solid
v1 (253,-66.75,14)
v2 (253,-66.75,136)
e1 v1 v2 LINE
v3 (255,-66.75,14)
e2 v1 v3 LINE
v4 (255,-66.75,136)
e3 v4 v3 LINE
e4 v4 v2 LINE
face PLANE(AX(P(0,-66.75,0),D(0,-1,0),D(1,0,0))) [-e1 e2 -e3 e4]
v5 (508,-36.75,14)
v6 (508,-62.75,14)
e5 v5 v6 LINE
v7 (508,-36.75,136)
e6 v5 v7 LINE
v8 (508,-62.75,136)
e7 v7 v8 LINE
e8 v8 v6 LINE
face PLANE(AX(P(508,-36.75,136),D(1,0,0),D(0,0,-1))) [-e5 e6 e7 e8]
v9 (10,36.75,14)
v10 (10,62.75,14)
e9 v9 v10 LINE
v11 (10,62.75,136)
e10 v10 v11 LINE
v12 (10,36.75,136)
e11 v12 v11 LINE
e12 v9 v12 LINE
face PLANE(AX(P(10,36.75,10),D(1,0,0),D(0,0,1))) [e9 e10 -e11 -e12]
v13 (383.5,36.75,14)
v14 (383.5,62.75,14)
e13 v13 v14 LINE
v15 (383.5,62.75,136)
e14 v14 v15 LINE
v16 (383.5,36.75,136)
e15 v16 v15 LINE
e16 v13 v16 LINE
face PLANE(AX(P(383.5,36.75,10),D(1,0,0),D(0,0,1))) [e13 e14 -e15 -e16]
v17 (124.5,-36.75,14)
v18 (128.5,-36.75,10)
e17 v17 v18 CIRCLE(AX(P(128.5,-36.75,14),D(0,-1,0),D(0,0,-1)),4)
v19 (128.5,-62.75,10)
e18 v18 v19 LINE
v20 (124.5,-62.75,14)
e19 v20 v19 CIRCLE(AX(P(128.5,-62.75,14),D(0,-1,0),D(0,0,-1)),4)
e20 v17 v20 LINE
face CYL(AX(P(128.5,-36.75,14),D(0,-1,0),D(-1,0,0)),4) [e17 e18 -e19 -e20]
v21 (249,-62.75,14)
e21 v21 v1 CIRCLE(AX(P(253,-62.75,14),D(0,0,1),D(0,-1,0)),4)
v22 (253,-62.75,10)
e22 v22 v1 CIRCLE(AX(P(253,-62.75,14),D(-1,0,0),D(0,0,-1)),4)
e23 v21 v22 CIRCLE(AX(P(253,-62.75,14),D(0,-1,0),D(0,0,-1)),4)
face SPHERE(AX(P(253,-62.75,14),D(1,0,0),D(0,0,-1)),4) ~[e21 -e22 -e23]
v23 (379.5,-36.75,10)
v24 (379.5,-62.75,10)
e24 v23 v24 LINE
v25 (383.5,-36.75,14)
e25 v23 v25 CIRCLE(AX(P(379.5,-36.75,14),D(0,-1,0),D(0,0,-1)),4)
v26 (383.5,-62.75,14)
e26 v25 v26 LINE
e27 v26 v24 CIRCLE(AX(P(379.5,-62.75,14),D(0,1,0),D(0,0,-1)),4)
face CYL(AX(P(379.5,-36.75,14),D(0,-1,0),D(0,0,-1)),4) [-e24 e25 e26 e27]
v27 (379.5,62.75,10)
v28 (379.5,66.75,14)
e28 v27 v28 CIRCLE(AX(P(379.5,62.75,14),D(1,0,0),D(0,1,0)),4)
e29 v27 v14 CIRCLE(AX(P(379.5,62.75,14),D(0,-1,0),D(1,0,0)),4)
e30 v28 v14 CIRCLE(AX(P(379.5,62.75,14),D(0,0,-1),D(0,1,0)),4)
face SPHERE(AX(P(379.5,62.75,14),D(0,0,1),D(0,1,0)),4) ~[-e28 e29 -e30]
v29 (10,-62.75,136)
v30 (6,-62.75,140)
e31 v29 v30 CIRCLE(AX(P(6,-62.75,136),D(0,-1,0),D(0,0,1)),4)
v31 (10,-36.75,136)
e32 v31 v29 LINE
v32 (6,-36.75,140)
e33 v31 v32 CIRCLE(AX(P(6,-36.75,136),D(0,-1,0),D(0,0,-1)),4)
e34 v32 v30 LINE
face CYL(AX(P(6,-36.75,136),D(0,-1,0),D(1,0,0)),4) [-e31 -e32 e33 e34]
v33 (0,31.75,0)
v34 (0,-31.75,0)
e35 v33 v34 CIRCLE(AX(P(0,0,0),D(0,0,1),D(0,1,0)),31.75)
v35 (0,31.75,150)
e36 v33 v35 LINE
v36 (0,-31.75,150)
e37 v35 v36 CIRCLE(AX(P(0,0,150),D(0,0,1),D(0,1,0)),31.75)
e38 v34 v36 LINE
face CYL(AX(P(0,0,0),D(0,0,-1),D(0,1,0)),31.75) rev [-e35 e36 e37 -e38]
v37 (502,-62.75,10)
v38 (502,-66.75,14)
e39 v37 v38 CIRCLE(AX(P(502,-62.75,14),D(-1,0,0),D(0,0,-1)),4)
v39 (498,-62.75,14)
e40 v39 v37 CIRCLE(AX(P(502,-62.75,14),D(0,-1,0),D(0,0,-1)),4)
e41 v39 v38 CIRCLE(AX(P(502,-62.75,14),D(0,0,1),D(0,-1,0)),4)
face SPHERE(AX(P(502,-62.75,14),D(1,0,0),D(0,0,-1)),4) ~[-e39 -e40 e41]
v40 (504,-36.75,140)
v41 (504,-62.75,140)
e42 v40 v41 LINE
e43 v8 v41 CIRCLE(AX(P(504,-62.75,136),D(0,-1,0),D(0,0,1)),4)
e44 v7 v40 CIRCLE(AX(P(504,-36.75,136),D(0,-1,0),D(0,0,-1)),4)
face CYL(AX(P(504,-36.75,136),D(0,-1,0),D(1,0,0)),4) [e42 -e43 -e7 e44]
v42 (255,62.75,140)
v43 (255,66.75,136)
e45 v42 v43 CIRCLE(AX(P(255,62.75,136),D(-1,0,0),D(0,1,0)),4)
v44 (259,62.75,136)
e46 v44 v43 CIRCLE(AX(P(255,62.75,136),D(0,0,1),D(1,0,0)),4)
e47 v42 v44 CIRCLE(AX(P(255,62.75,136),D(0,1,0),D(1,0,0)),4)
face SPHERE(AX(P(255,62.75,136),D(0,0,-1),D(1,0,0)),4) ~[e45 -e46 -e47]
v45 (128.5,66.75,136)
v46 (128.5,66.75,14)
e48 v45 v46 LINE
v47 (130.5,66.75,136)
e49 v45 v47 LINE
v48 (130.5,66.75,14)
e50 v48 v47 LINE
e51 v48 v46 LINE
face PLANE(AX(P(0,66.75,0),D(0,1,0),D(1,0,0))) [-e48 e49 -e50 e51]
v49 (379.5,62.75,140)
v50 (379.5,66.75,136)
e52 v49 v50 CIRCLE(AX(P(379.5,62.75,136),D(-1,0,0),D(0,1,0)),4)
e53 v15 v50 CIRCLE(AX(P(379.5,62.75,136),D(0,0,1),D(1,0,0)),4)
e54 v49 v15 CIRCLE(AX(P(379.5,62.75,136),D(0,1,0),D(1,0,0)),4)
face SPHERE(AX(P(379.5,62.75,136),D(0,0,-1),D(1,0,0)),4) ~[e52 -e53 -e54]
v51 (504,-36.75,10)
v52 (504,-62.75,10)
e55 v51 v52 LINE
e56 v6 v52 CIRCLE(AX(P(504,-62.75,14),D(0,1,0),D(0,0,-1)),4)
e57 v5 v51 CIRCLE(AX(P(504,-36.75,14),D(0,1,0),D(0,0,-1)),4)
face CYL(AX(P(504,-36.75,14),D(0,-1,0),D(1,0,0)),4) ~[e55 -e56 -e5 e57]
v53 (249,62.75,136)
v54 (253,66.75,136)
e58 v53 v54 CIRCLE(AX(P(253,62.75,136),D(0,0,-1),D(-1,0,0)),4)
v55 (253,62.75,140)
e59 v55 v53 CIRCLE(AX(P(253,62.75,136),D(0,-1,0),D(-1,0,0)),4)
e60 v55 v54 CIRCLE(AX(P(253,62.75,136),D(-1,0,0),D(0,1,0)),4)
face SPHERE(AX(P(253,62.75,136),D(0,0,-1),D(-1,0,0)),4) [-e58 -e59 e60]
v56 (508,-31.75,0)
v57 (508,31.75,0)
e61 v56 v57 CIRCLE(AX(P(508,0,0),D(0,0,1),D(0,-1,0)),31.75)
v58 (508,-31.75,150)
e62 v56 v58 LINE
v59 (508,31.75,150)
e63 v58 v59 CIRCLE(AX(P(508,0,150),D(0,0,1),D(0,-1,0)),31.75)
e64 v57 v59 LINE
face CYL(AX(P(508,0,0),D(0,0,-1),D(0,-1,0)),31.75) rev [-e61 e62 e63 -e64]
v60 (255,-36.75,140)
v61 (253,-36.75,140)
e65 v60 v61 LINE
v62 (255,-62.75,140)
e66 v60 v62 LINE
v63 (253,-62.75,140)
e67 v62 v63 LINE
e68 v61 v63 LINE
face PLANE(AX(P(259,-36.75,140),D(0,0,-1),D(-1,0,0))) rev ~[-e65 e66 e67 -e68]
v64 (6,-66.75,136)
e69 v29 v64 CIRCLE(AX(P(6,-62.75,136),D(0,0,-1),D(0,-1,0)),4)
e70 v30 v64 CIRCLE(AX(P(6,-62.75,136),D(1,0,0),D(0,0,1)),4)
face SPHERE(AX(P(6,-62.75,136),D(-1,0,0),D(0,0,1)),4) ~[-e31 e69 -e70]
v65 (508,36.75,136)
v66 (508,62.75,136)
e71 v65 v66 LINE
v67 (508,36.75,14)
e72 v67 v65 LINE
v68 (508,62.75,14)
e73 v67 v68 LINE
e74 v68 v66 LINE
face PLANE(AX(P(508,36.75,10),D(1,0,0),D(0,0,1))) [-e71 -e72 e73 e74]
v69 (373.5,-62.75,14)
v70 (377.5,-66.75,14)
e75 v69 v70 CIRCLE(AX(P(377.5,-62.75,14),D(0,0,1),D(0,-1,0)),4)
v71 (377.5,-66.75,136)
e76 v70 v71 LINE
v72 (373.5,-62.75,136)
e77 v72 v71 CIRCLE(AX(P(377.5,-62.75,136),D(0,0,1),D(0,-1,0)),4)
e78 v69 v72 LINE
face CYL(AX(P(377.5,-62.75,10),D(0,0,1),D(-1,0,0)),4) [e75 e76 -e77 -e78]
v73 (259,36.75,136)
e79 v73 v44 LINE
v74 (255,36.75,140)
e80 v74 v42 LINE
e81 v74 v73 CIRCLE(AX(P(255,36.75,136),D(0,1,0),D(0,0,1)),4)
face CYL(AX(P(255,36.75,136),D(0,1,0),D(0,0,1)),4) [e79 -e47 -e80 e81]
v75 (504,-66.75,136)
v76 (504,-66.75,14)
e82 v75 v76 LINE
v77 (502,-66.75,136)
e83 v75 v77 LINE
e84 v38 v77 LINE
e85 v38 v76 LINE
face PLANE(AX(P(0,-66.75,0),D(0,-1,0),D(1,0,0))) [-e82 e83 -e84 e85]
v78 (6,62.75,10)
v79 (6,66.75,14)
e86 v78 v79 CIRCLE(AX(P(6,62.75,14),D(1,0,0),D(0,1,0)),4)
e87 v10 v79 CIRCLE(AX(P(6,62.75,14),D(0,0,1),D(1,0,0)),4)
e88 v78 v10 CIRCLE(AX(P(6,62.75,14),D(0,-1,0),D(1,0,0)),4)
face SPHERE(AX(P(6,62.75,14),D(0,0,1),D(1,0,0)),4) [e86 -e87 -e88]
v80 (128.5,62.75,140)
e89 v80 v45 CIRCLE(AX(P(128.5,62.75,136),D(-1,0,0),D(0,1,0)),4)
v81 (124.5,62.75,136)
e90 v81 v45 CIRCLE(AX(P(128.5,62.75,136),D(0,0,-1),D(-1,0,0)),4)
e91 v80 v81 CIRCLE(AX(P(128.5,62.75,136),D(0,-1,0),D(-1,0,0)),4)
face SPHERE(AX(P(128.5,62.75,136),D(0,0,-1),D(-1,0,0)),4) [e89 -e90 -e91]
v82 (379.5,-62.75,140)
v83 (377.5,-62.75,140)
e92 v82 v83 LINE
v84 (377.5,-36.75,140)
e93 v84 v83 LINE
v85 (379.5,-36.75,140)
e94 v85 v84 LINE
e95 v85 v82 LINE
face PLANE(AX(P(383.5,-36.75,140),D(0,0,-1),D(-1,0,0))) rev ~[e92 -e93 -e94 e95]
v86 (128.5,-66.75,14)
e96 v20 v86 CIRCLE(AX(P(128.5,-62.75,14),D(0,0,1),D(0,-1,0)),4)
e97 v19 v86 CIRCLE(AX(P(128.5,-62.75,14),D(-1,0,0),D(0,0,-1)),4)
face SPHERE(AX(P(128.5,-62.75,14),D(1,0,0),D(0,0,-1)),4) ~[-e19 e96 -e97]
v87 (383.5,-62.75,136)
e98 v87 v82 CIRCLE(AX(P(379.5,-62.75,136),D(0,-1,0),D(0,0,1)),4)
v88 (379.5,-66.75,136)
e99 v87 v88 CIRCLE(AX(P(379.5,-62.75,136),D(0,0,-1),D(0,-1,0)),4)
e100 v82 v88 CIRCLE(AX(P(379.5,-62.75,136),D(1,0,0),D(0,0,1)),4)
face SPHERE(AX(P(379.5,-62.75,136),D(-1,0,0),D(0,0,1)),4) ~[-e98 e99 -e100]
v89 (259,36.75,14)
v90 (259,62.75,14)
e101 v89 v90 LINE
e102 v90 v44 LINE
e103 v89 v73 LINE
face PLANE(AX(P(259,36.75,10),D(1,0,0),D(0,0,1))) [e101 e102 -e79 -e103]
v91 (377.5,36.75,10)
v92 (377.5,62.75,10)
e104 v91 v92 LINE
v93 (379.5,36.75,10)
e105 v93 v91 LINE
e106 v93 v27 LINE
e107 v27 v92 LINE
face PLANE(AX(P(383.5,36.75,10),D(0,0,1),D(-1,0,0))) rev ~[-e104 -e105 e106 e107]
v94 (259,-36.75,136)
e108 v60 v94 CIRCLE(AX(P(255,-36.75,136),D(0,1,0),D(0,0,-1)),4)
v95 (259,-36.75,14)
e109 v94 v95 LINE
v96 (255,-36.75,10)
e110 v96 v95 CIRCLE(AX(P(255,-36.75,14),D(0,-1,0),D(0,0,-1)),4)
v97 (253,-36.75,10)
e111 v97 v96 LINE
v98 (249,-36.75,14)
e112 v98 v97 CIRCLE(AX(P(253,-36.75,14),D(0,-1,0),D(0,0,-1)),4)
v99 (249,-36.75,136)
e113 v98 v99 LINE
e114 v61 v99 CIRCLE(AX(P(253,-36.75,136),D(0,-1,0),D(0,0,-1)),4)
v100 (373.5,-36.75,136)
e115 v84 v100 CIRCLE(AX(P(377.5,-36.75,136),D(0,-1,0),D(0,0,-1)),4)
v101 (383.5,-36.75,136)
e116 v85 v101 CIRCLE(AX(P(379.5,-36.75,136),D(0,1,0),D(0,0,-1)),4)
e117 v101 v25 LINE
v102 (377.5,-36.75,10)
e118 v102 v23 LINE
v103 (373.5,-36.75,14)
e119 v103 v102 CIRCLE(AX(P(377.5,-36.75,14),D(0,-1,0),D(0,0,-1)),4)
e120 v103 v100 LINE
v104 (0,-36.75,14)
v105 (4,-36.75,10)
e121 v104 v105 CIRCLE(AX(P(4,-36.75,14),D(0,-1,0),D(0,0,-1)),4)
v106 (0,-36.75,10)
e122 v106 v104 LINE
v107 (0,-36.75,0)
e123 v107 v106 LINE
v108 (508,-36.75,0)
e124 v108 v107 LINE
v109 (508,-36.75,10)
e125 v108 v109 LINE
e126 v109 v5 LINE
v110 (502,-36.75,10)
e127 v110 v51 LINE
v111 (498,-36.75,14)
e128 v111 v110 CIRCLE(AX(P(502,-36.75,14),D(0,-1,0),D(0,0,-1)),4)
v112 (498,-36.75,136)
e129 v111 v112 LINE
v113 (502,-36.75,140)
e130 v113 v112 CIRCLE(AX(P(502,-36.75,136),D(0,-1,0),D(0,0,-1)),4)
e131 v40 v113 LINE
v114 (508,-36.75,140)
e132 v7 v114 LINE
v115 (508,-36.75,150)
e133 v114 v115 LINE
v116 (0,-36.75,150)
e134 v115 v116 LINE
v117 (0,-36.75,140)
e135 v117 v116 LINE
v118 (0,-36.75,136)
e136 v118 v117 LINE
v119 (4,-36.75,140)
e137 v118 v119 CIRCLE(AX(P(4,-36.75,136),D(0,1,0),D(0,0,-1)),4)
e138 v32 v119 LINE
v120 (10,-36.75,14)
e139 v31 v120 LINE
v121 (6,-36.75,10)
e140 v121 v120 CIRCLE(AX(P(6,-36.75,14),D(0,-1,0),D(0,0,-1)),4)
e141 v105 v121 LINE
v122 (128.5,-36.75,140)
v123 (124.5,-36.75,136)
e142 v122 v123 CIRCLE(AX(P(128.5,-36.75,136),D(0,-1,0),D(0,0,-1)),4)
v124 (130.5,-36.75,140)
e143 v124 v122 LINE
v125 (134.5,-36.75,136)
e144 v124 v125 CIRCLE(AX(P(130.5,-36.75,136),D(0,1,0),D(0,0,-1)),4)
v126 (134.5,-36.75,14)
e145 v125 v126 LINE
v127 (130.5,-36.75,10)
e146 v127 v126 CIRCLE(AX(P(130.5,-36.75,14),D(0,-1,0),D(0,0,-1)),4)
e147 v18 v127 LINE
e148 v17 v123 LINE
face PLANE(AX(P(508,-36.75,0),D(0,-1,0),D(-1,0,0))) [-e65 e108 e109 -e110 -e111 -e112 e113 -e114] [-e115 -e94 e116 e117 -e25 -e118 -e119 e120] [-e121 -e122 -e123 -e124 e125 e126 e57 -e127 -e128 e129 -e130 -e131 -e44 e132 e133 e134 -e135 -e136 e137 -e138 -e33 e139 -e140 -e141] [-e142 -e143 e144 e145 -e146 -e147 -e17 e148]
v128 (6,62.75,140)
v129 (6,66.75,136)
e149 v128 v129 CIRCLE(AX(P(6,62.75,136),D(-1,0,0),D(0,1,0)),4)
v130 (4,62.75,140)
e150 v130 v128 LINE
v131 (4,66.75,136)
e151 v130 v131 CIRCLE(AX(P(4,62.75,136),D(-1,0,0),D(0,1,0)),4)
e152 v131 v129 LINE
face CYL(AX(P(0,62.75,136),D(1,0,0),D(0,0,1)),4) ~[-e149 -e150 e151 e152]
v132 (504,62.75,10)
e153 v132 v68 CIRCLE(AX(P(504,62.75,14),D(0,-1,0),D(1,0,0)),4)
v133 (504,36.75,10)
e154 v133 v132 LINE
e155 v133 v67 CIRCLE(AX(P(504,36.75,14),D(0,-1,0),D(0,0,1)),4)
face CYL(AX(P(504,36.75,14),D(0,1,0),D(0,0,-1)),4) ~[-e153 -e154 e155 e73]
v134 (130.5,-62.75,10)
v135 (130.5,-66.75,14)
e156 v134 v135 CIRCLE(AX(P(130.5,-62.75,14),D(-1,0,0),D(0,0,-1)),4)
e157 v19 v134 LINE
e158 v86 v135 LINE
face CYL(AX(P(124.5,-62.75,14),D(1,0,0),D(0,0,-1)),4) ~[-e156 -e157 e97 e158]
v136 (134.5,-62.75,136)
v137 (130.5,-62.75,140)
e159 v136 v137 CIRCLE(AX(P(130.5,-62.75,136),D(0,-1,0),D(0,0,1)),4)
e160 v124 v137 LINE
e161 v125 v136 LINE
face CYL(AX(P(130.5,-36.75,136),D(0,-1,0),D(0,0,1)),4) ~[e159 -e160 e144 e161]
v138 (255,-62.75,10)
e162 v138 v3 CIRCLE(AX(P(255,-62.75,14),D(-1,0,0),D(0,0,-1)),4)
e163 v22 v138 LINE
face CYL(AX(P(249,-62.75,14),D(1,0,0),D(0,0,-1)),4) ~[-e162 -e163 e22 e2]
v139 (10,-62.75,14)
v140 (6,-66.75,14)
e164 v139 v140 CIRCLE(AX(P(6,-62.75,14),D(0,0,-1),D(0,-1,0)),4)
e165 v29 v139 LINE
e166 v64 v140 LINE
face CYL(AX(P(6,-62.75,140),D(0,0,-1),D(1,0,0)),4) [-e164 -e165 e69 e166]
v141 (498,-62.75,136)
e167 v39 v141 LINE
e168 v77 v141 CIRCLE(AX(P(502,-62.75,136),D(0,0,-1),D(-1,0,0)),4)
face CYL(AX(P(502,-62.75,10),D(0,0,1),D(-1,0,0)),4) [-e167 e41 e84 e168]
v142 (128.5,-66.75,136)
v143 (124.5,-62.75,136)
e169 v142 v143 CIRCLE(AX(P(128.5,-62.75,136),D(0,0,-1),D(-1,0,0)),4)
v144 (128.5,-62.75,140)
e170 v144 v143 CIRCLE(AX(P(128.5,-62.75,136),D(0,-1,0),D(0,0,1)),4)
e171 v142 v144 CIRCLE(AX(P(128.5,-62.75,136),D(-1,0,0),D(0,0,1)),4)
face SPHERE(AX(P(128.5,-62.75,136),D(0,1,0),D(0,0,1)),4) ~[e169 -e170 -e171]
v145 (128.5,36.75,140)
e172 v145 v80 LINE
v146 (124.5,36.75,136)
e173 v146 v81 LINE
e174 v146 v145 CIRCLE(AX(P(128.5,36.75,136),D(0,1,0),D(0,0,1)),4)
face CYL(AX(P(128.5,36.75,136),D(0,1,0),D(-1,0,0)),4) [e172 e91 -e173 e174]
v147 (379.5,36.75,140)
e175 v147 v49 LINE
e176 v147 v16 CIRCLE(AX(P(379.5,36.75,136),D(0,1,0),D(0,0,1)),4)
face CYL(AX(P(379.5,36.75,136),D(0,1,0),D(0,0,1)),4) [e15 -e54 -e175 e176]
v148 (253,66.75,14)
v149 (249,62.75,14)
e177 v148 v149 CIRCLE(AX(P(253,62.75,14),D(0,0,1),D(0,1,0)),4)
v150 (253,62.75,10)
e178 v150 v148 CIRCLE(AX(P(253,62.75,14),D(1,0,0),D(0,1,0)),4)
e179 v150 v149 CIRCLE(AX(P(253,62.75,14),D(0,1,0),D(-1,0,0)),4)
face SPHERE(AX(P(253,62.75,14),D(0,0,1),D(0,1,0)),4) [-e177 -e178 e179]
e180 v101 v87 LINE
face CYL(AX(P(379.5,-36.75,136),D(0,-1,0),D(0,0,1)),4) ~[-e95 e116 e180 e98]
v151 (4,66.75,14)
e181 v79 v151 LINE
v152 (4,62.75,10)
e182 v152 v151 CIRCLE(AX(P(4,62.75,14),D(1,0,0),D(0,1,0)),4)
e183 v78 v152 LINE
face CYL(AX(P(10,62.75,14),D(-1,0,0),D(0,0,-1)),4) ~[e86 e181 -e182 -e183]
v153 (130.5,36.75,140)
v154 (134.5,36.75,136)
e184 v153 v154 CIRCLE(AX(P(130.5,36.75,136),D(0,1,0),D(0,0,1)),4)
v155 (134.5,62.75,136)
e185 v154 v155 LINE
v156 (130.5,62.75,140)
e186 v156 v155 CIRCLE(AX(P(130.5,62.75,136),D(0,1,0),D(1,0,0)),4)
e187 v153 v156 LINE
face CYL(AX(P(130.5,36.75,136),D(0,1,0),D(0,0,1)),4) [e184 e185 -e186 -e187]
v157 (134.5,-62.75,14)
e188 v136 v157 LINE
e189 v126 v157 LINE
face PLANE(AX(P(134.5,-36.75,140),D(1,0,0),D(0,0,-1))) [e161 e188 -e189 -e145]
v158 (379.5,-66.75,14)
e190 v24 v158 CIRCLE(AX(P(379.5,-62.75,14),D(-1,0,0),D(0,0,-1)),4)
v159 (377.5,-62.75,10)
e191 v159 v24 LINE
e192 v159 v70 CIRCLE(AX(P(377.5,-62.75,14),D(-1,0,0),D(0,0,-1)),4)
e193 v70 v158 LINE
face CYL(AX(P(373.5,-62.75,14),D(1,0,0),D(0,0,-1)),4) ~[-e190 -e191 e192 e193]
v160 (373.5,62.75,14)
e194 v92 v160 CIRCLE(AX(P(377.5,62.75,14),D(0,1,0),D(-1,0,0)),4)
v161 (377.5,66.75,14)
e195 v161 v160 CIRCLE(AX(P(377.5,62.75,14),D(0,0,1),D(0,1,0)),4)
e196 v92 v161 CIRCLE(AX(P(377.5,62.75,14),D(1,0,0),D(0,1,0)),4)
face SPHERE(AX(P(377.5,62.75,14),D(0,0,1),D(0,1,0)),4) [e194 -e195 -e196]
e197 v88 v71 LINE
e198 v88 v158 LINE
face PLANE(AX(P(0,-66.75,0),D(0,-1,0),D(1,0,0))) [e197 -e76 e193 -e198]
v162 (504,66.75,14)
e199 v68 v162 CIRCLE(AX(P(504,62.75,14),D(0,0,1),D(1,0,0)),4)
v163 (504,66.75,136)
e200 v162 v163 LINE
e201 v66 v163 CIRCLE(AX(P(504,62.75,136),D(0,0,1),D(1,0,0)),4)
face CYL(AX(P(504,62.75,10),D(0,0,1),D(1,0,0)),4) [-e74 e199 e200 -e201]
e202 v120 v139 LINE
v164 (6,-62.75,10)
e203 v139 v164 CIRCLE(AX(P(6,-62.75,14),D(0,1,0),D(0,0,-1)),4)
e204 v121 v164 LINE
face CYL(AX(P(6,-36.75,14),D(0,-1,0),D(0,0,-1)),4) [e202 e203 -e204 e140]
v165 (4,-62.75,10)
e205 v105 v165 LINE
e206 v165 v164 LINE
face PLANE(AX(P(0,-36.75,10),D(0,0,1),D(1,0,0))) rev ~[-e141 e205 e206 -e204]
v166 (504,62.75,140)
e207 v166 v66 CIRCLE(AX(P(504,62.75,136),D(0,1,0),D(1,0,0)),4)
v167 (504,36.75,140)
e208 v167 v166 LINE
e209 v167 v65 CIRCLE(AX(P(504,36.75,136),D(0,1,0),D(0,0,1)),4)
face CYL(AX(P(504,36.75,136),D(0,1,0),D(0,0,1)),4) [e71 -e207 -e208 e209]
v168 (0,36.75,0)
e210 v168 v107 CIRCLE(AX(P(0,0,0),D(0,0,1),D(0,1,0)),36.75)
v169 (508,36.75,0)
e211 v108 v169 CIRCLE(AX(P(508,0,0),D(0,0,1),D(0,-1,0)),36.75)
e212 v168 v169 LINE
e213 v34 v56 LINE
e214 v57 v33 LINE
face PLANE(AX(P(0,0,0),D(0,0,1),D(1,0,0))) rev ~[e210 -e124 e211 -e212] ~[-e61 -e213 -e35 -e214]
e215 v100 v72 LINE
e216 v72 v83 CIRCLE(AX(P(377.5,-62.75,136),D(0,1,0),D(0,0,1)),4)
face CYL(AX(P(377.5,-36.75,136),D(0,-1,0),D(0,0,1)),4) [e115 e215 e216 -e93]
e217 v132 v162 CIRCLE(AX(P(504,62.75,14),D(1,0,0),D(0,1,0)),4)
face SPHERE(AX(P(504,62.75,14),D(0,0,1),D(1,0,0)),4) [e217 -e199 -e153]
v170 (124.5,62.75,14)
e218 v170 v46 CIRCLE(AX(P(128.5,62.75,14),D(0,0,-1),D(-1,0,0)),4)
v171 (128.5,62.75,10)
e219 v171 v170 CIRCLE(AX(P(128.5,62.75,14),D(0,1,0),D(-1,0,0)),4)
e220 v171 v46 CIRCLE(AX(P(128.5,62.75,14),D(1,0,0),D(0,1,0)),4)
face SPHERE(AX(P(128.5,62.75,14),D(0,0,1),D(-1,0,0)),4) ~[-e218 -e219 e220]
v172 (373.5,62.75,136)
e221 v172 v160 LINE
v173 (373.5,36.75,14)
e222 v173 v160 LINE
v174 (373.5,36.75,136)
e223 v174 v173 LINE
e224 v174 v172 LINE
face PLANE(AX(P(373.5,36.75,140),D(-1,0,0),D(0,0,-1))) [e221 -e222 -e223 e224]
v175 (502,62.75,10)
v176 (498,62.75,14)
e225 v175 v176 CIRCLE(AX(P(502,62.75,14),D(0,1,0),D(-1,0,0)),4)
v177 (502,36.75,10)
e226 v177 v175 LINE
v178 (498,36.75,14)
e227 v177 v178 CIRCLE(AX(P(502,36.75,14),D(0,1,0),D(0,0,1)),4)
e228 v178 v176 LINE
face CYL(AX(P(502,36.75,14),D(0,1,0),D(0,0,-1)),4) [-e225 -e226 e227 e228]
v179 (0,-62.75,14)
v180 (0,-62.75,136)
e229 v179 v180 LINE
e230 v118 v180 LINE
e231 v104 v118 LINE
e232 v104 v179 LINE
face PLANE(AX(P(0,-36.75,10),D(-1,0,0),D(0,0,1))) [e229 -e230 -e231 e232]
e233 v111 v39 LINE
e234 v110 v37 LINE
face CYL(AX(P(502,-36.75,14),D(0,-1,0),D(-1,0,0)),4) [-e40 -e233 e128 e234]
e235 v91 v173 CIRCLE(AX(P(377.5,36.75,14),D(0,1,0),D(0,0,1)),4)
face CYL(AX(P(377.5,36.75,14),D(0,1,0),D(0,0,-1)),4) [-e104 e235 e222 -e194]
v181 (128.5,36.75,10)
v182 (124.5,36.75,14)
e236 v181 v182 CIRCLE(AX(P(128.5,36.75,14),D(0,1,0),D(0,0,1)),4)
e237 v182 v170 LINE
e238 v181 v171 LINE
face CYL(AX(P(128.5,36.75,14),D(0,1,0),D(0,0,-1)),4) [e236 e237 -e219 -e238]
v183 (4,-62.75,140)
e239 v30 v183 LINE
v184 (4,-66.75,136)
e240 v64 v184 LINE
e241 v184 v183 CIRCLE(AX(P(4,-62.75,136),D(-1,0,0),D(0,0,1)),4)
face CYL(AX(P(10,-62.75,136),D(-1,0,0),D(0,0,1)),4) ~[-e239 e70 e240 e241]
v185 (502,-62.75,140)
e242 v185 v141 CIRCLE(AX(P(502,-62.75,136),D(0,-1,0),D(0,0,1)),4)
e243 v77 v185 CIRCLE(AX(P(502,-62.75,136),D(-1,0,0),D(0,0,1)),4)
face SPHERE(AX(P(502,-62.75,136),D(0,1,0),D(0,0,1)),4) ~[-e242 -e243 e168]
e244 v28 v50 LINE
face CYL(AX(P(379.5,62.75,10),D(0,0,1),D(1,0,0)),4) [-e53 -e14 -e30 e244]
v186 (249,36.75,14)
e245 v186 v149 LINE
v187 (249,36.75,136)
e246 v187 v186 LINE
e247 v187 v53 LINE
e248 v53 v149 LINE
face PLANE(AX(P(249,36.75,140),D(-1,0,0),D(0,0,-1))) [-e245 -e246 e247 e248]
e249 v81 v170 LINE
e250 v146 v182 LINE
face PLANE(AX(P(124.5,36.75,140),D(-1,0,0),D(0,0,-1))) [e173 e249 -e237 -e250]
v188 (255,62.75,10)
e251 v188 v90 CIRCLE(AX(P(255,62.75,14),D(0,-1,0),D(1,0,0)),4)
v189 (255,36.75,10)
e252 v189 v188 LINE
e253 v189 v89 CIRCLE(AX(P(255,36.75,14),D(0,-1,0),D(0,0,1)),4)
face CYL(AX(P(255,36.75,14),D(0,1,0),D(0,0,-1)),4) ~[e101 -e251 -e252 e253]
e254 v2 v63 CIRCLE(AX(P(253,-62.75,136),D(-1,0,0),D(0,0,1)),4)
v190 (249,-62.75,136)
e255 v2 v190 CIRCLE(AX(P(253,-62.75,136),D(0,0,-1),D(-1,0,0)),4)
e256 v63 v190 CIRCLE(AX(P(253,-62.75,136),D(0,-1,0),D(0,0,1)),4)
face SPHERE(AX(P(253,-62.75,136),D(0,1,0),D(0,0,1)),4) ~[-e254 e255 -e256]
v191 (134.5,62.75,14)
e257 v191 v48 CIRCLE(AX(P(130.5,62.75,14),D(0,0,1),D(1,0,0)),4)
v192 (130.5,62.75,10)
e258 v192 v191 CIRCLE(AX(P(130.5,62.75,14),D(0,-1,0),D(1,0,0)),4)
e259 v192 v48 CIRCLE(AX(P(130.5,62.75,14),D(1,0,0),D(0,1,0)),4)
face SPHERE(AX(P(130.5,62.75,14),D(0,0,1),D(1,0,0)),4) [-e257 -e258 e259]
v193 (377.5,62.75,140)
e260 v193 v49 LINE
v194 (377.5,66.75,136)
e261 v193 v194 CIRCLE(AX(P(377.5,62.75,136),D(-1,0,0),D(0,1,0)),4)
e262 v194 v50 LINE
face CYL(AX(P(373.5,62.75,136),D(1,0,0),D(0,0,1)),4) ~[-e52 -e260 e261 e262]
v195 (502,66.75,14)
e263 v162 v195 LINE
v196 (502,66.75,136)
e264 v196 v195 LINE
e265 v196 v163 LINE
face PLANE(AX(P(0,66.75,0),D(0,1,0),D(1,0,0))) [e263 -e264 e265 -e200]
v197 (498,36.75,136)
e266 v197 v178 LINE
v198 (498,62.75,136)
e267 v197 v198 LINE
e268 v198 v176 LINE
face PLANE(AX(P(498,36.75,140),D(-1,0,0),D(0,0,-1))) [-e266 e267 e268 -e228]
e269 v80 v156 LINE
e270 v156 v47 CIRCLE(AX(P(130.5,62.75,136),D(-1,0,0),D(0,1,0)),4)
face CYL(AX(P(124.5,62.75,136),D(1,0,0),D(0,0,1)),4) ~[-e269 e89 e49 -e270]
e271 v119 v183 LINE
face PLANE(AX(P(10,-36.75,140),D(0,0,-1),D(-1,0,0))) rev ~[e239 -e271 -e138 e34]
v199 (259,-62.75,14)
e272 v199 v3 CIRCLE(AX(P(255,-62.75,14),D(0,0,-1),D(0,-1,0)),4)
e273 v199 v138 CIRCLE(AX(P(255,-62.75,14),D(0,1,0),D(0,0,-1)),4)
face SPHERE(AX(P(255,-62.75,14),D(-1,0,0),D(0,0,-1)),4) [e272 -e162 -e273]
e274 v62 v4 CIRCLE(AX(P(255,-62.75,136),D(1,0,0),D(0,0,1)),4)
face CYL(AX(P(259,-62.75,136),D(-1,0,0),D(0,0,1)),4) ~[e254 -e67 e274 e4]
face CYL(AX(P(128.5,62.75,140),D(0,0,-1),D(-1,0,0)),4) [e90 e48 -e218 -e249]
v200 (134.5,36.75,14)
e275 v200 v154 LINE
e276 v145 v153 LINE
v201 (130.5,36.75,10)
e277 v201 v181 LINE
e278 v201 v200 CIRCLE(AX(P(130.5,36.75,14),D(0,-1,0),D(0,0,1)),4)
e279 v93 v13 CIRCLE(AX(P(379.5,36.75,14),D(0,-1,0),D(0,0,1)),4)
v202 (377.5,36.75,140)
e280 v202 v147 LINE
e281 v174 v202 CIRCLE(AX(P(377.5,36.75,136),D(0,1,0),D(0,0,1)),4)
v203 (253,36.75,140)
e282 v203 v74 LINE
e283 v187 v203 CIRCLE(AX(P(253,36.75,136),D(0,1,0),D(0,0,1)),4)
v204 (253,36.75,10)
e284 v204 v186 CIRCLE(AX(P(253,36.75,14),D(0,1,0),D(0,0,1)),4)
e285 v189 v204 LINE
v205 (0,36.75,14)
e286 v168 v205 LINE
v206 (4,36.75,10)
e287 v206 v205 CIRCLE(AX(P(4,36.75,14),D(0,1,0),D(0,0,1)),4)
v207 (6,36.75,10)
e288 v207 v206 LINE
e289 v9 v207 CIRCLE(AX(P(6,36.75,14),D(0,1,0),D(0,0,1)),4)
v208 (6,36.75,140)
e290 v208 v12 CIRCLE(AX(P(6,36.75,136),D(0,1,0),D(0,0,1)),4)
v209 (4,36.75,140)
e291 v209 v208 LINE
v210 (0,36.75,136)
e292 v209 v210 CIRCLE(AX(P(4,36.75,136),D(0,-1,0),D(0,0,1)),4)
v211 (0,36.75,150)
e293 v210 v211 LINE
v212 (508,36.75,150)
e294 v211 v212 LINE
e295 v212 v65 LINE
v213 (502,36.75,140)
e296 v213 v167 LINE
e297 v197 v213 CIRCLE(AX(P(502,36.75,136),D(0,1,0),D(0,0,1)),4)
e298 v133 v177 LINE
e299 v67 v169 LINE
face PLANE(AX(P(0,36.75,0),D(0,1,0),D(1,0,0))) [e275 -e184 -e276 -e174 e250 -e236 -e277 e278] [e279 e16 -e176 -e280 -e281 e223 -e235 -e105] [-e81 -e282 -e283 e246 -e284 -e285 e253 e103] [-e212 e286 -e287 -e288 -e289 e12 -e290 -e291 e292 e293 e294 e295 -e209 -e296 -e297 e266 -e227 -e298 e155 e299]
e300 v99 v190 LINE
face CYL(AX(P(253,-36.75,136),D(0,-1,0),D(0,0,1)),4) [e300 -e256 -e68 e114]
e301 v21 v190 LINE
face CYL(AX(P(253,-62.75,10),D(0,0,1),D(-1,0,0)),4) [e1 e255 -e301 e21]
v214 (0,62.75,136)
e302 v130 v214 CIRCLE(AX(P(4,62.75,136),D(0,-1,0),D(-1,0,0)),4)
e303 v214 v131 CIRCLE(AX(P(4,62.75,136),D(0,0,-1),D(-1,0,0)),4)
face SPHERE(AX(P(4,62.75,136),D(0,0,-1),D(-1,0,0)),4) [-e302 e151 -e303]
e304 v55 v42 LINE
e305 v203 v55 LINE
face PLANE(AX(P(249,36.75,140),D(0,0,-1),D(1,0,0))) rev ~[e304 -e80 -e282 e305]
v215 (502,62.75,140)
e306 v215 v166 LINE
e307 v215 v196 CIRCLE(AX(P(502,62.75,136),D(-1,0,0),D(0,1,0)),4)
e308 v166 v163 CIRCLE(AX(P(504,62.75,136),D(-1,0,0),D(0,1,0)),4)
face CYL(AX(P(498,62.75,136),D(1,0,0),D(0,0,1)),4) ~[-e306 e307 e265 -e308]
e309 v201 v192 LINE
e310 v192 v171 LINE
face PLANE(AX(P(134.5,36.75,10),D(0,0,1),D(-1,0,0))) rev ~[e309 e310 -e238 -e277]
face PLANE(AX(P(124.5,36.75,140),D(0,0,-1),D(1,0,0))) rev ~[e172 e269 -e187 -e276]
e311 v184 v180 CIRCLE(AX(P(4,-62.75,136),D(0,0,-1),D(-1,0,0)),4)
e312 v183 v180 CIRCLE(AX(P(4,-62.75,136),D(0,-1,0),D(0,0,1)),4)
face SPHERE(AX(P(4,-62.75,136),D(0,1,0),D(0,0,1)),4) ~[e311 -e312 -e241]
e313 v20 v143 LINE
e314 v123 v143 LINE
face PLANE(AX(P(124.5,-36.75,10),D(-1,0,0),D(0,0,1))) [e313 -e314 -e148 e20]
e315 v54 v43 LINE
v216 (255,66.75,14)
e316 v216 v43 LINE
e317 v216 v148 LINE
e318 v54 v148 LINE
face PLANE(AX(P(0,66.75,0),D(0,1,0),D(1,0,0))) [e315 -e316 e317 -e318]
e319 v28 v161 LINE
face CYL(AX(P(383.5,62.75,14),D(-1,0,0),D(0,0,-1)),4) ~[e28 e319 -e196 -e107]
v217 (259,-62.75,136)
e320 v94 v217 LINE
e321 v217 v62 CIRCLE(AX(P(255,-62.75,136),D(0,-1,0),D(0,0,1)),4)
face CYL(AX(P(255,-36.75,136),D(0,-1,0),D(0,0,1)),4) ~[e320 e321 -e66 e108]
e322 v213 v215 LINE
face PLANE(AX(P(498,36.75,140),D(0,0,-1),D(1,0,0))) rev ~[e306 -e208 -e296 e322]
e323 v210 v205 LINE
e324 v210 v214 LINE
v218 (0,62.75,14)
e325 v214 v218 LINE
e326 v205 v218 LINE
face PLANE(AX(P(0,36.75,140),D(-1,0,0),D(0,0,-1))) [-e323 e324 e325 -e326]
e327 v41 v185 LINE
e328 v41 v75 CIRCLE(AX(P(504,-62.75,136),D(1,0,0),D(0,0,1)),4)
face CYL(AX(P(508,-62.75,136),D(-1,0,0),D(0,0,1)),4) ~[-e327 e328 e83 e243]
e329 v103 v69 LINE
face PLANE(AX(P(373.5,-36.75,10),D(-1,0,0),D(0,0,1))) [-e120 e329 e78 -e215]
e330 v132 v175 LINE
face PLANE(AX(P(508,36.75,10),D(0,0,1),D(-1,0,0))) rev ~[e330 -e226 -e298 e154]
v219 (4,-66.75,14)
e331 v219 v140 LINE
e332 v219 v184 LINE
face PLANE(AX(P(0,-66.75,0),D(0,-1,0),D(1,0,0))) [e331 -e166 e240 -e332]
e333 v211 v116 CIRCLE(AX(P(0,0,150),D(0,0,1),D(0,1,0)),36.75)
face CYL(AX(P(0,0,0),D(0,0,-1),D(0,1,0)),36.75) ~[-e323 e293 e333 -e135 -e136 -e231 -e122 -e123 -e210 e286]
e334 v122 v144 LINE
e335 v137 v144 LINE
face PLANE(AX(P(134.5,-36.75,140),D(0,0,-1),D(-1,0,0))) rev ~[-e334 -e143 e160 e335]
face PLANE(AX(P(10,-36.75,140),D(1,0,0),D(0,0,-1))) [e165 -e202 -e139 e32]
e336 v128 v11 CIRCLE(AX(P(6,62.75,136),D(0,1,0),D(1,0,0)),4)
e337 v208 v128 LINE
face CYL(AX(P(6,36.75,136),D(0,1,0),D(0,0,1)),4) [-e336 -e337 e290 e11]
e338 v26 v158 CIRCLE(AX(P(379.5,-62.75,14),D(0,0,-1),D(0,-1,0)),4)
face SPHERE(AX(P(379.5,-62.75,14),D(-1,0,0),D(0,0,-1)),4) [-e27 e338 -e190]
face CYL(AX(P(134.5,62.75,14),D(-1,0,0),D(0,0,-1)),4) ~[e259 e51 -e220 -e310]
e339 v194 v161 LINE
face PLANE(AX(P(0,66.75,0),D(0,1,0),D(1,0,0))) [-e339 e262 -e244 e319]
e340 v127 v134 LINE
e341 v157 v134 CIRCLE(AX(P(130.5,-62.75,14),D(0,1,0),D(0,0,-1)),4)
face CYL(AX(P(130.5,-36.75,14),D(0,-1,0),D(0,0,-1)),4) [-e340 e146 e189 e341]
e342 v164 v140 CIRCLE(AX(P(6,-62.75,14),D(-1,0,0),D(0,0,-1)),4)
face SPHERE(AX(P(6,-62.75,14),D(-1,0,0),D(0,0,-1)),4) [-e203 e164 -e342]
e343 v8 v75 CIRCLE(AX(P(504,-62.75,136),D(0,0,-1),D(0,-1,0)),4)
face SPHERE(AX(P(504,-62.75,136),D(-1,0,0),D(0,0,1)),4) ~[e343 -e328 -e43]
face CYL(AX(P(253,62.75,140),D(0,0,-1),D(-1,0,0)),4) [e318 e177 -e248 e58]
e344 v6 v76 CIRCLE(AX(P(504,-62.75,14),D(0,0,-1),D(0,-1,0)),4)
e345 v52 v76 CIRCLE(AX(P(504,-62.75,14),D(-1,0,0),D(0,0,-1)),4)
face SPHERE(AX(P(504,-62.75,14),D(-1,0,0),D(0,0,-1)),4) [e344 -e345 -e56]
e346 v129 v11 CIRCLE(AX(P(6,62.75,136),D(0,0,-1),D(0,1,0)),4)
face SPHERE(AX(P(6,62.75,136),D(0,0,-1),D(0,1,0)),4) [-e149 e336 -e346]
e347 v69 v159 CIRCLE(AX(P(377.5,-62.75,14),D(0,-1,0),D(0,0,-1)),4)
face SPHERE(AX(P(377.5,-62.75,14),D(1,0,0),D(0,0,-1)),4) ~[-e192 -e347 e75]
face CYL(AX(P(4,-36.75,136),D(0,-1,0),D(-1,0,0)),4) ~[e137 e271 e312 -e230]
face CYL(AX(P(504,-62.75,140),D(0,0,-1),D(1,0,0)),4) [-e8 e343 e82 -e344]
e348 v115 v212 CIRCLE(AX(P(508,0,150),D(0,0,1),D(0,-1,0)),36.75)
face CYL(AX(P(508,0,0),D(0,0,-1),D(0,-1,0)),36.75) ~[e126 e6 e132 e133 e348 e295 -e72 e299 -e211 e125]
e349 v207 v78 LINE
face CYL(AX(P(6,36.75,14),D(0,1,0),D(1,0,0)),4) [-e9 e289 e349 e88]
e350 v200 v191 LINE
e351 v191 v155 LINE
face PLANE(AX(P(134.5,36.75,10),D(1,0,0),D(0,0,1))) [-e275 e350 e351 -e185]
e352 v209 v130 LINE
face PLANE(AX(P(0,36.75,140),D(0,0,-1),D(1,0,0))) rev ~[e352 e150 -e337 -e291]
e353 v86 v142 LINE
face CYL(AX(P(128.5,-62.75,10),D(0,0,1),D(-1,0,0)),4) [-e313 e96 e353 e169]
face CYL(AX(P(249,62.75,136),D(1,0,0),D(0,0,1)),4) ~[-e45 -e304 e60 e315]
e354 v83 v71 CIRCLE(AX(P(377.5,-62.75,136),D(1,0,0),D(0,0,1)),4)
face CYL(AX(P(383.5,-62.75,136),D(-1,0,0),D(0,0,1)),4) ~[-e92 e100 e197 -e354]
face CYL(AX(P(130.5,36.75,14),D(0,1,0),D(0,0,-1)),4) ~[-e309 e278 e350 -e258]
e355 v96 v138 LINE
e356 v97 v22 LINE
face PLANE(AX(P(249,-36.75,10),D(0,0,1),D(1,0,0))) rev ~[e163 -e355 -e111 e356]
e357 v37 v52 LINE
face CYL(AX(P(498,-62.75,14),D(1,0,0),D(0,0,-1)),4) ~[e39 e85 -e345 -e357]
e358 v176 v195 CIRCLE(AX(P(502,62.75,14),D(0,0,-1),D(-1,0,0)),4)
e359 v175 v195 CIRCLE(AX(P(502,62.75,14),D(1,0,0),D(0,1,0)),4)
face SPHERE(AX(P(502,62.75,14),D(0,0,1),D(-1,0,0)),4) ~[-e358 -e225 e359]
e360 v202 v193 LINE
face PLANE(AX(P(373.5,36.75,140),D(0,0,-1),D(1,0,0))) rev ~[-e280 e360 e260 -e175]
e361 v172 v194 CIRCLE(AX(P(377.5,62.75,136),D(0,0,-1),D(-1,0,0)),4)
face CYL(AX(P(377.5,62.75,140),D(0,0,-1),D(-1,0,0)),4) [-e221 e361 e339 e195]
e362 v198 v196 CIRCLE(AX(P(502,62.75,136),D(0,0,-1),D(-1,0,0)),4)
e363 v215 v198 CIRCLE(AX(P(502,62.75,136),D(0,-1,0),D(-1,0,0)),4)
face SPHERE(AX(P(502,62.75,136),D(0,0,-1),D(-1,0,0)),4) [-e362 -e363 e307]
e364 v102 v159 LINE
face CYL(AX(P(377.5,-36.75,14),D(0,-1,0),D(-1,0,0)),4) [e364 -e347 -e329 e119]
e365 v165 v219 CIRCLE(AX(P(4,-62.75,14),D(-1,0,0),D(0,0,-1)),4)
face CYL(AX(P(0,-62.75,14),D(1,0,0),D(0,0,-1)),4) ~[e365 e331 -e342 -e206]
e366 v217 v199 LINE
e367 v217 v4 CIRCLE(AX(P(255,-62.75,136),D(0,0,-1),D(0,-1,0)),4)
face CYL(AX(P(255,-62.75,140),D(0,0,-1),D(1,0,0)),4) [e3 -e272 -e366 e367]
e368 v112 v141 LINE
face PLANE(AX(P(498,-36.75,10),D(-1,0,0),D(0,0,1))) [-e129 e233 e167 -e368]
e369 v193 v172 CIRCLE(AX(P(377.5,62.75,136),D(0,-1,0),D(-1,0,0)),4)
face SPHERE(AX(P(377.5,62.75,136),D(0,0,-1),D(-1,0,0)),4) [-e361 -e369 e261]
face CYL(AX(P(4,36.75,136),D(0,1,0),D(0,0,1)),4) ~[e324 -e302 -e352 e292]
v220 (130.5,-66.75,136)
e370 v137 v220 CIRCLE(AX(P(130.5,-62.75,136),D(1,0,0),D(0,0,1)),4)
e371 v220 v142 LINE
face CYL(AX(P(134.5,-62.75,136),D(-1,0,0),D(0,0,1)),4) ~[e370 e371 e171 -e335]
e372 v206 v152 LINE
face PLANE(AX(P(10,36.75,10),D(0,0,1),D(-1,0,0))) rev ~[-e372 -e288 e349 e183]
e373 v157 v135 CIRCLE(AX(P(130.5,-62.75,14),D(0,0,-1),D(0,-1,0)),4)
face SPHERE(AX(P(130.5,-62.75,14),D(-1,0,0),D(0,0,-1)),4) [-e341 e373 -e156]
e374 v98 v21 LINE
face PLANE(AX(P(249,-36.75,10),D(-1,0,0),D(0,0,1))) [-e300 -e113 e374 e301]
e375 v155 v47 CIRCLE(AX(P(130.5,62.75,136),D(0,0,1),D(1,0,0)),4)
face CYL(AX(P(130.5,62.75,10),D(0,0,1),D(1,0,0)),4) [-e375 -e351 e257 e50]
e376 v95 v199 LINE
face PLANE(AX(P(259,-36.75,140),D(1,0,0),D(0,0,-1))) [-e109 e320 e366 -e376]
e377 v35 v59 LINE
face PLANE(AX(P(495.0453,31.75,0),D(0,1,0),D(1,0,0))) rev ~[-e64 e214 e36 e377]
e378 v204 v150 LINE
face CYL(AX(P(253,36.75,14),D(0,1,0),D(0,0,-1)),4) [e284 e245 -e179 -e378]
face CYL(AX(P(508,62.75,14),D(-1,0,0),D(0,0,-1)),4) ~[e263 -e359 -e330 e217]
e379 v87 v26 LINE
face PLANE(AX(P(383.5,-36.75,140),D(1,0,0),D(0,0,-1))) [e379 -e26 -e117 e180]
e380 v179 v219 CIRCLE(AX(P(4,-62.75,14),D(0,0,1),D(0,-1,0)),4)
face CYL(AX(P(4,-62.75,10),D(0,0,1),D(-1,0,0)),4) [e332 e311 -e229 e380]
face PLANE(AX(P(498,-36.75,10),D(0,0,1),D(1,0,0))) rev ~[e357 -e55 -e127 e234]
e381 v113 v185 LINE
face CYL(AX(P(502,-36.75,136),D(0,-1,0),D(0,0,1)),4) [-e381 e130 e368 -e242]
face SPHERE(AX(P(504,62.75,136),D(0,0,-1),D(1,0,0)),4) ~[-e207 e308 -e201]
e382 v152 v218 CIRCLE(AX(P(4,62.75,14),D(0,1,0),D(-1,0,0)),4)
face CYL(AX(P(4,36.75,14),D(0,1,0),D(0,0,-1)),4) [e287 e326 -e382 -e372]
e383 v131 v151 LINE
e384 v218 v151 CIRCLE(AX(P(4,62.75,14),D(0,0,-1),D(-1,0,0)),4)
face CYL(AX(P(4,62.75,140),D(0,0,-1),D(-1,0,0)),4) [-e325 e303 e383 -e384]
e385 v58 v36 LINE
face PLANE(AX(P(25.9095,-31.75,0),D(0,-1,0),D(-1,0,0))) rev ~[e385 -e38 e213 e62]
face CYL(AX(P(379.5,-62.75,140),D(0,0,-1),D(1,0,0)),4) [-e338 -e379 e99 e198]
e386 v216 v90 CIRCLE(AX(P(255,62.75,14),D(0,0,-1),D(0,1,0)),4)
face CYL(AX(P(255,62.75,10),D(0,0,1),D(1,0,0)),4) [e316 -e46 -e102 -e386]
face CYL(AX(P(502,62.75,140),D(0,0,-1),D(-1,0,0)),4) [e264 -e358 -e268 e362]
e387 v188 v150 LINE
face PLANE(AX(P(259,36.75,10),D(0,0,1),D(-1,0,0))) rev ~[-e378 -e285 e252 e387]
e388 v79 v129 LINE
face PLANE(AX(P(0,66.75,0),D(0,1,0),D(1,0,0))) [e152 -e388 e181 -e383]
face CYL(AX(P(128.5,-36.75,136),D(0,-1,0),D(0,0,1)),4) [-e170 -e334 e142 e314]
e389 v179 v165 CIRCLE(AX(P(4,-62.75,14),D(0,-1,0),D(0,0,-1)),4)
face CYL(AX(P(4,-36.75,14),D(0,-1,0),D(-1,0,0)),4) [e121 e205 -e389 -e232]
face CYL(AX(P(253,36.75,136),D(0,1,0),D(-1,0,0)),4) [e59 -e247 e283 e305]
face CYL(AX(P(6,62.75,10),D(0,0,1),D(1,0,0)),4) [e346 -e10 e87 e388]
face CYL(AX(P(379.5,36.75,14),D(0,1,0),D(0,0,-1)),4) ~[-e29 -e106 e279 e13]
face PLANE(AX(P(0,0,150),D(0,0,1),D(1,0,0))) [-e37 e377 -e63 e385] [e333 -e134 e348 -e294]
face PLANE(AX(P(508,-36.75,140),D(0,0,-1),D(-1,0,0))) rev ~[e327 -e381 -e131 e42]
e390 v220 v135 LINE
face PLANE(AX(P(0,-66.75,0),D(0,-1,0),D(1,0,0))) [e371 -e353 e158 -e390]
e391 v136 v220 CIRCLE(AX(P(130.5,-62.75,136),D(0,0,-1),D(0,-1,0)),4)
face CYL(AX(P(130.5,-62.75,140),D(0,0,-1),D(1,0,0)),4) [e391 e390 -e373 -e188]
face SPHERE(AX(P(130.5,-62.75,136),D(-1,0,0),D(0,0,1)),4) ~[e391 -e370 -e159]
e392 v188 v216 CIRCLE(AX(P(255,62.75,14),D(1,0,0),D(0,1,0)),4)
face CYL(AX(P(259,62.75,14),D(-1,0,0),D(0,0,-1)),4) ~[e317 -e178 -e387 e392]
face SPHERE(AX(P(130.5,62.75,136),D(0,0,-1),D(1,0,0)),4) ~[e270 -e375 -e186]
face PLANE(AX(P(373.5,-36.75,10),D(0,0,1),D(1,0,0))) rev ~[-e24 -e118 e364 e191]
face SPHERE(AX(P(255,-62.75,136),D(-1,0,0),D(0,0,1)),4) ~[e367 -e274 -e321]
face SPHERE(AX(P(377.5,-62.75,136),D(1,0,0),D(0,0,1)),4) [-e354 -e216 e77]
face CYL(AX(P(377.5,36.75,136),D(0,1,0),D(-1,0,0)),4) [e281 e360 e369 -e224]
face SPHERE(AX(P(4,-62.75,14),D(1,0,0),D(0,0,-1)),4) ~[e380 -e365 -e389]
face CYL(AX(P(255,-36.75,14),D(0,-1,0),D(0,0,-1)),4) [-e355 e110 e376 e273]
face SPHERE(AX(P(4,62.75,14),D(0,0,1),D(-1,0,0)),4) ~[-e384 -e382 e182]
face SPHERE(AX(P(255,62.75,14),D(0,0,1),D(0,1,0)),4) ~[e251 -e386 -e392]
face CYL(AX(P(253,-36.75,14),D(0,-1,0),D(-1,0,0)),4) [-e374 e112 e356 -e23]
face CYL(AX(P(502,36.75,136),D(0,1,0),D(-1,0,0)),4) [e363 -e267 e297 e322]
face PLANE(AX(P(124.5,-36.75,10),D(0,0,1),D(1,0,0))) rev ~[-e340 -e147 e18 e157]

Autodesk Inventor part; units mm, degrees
ref_plane "YZ Plane" through (0, 0, 0) normal (1, 0, 0) x (0, 1, 0)
ref_plane "XZ Plane" through (0, 0, 0) normal (0, 1, 0) x (-1, 0, 0)
ref_plane "XY Plane" through (0, 0, 0) normal (0, 0, 1) x (1, 0, 0)
sketch "Sketch1" plane through (0, 0, 0) normal (0, 0, 1) x (1, 0, 0)
  arc A0 (0, 31.75) -> (0, -31.75) centre (0, 0) ccw
  arc A1 (508, -31.75) -> (508, 31.75) centre (508, 0) ccw
  line L0 (508, -31.75) -> (25.9095, -31.75)
  line L1 (0, 31.75) -> (12.9547, 31.75)
  arc A2 (0, 36.75) -> (0, -36.75) centre (0, 0) ccw
  line L2 (0, 36.75) -> (508, 36.75)
  line L3 (508, -36.75) -> (0, -36.75)
  arc A3 (508, -36.75) -> (508, 36.75) centre (508, 0) ccw
  line L4 (495.0453, 31.75) -> (508, 31.75)
  line L5 (12.9547, 31.75) -> (495.0453, 31.75)
  line L6 (25.9095, -31.75) -> (0, -31.75)
  dimension "d0" = 63.5
  dimension "d1" = 508
  dimension "d2" = 73.5
extrude "Extrusion1" add sketch "Sketch1" along normal blind 150
sketch "Sketch2" plane through (0, 36.75, 0) normal (0, 1, 0) x (1, 0, 0)
  line L0 (508, 0) -> (508, -150) projected
  line L1 (0, 0) -> (508, 0)
  line L2 (508, 0) -> (508, -10)
  line L3 (508, -10) -> (0, -10)
  line L4 (0, -10) -> (0, 0)
  line L5 (508, -150) -> (0, -150)
  line L6 (0, -140) -> (508, -140)
  line L7 (0, -150) -> (0, -140)
  line L8 (508, -140) -> (508, -150)
  line L9 (0, -10) -> (10, -10)
  line L10 (10, -10) -> (10, -140)
  line L11 (10, -140) -> (0, -140)
  line L12 (0, -140) -> (0, -10)
  line L13 (124.5, -140) -> (124.5, -10)
  line L14 (134.5, -10) -> (134.5, -140)
  line L15 (134.5, -140) -> (124.5, -140)
  line L16 (124.5, -10) -> (134.5, -10)
  line L17 (249, -140) -> (249, -10)
  line L18 (259, -10) -> (259, -140)
  line L19 (259, -140) -> (249, -140)
  line L20 (249, -10) -> (259, -10)
  line L21 (373.5, -140) -> (373.5, -10)
  line L22 (383.5, -10) -> (383.5, -140)
  line L23 (383.5, -140) -> (373.5, -140)
  line L24 (373.5, -10) -> (383.5, -10)
  line L25 (498, -140) -> (498, -10)
  line L26 (508, -10) -> (508, -140)
  line L27 (508, -140) -> (498, -140)
  line L28 (498, -10) -> (508, -10)
  dimension "d5" = 10
  dimension "d8" = 140
  dimension "d13" = 10
  dimension "d16" = 124.5
extrude "Extrusion2" add sketch "Sketch2" along normal blind 30 contours L0 L6 L25 L3 | L3 L10 L6 L12 | L22 L6 L21 L3 | L3 L14 L6 L13 | L18 L6 L17 L3
fillet "Fillet1" radius 4 40 edges at (0, 66.75, 75) (10, 66.75, 75) (0, 51.75, 10) (10, 51.75, 10) (5, 66.75, 10) (124.5, 66.75, 75) (134.5, 66.75, 75) (124.5, 51.75, 10) (134.5, 51.75, 10) (129.5, 66.75, 10) (249, 66.75, 75) (259, 66.75, 75) (254, 66.75, 10) (249, 51.75, 10) (259, 51.75, 10) (373.5, 66.75, 75) (383.5, 66.75, 75) (378.5, 66.75, 10) (373.5, 51.75, 10) (383.5, 51.75, 10) (498, 66.75, 75) (508, 66.75, 75) (498, 51.75, 10) (508, 51.75, 10) (503, 66.75, 10) (0, 51.75, 140) (5, 66.75, 140) (10, 51.75, 140) (124.5, 51.75, 140) (134.5, 51.75, 140) (129.5, 66.75, 140) (249, 51.75, 140) (259, 51.75, 140) (254, 66.75, 140) (373.5, 51.75, 140) (383.5, 51.75, 140) (378.5, 66.75, 140) (498, 51.75, 140) (508, 51.75, 140) (503, 66.75, 140)
sketch "Sketch4" plane through (0, -36.75, 0) normal (0, -1, 0) x (1, 0, 0)
  line L0 (0, 150) -> (-36.75, 150) projected
  line L1 (508, 136) -> (508, 150) projected
  line L2 (0, 150) -> (508, 150)
  line L3 (508, 150) -> (508, 140)
  line L4 (508, 140) -> (0, 140)
  line L5 (0, 140) -> (0, 150)
  line L6 (0, 10) -> (508, 10)
  line L7 (0, 0) -> (0, 10)
  line L8 (508, 0) -> (0, 0)
  line L9 (508, 10) -> (508, 0)
  line L10 (0, 140) -> (10, 140)
  line L11 (10, 140) -> (10, 10)
  line L12 (10, 10) -> (0, 10)
  line L13 (0, 10) -> (0, 140)
  line L14 (124.5, 10) -> (124.5, 140)
  line L15 (134.5, 140) -> (134.5, 10)
  line L16 (124.5, 140) -> (134.5, 140)
  line L17 (134.5, 10) -> (124.5, 10)
  line L18 (249, 10) -> (249, 140)
  line L19 (259, 140) -> (259, 10)
  line L20 (249, 140) -> (259, 140)
  line L21 (259, 10) -> (249, 10)
  line L22 (373.5, 10) -> (373.5, 140)
  line L23 (383.5, 140) -> (383.5, 10)
  line L24 (373.5, 140) -> (383.5, 140)
  line L25 (383.5, 10) -> (373.5, 10)
  line L26 (498, 10) -> (498, 140)
  line L27 (508, 140) -> (508, 10)
  line L28 (498, 140) -> (508, 140)
  line L29 (508, 10) -> (498, 10)
  point P0 (0, 0)
  dimension "d43" = 10
  dimension "d46" = 140
  dimension "d51" = 10
  dimension "d54" = 124.5
extrude "Extrusion4" add sketch "Sketch4" along normal blind 30 contours L27 L6 L26 L4 L1 | L23 L6 L22 L4 | L4 L11 L6 L13 | L19 L6 L18 L4 | L4 L15 L6 L14
fillet "Fillet3" radius 4 40 edges at (5, -66.75, 10) (129.5, -66.75, 10) (254, -66.75, 10) (378.5, -66.75, 10) (503, -66.75, 10) (0, -51.75, 10) (10, -51.75, 10) (124.5, -51.75, 10) (134.5, -51.75, 10) (249, -51.75, 10) (259, -51.75, 10) (373.5, -51.75, 10) (383.5, -51.75, 10) (498, -51.75, 10) (508, -51.75, 10) (0, -51.75, 140) (5, -66.75, 140) (10, -51.75, 140) (124.5, -51.75, 140) (129.5, -66.75, 140) (134.5, -51.75, 140) (249, -51.75, 140) (254, -66.75, 140) (259, -51.75, 140) (378.5, -66.75, 140) (373.5, -51.75, 140) (383.5, -51.75, 140) (498, -51.75, 140) (503, -66.75, 140) (508, -51.75, 140) (0, -66.75, 75) (10, -66.75, 75) (124.5, -66.75, 75) (134.5, -66.75, 75) (249, -66.75, 75) (259, -66.75, 75) (373.5, -66.75, 75) (383.5, -66.75, 75) (498, -66.75, 75) (508, -66.75, 75)
properties part number "banda"
